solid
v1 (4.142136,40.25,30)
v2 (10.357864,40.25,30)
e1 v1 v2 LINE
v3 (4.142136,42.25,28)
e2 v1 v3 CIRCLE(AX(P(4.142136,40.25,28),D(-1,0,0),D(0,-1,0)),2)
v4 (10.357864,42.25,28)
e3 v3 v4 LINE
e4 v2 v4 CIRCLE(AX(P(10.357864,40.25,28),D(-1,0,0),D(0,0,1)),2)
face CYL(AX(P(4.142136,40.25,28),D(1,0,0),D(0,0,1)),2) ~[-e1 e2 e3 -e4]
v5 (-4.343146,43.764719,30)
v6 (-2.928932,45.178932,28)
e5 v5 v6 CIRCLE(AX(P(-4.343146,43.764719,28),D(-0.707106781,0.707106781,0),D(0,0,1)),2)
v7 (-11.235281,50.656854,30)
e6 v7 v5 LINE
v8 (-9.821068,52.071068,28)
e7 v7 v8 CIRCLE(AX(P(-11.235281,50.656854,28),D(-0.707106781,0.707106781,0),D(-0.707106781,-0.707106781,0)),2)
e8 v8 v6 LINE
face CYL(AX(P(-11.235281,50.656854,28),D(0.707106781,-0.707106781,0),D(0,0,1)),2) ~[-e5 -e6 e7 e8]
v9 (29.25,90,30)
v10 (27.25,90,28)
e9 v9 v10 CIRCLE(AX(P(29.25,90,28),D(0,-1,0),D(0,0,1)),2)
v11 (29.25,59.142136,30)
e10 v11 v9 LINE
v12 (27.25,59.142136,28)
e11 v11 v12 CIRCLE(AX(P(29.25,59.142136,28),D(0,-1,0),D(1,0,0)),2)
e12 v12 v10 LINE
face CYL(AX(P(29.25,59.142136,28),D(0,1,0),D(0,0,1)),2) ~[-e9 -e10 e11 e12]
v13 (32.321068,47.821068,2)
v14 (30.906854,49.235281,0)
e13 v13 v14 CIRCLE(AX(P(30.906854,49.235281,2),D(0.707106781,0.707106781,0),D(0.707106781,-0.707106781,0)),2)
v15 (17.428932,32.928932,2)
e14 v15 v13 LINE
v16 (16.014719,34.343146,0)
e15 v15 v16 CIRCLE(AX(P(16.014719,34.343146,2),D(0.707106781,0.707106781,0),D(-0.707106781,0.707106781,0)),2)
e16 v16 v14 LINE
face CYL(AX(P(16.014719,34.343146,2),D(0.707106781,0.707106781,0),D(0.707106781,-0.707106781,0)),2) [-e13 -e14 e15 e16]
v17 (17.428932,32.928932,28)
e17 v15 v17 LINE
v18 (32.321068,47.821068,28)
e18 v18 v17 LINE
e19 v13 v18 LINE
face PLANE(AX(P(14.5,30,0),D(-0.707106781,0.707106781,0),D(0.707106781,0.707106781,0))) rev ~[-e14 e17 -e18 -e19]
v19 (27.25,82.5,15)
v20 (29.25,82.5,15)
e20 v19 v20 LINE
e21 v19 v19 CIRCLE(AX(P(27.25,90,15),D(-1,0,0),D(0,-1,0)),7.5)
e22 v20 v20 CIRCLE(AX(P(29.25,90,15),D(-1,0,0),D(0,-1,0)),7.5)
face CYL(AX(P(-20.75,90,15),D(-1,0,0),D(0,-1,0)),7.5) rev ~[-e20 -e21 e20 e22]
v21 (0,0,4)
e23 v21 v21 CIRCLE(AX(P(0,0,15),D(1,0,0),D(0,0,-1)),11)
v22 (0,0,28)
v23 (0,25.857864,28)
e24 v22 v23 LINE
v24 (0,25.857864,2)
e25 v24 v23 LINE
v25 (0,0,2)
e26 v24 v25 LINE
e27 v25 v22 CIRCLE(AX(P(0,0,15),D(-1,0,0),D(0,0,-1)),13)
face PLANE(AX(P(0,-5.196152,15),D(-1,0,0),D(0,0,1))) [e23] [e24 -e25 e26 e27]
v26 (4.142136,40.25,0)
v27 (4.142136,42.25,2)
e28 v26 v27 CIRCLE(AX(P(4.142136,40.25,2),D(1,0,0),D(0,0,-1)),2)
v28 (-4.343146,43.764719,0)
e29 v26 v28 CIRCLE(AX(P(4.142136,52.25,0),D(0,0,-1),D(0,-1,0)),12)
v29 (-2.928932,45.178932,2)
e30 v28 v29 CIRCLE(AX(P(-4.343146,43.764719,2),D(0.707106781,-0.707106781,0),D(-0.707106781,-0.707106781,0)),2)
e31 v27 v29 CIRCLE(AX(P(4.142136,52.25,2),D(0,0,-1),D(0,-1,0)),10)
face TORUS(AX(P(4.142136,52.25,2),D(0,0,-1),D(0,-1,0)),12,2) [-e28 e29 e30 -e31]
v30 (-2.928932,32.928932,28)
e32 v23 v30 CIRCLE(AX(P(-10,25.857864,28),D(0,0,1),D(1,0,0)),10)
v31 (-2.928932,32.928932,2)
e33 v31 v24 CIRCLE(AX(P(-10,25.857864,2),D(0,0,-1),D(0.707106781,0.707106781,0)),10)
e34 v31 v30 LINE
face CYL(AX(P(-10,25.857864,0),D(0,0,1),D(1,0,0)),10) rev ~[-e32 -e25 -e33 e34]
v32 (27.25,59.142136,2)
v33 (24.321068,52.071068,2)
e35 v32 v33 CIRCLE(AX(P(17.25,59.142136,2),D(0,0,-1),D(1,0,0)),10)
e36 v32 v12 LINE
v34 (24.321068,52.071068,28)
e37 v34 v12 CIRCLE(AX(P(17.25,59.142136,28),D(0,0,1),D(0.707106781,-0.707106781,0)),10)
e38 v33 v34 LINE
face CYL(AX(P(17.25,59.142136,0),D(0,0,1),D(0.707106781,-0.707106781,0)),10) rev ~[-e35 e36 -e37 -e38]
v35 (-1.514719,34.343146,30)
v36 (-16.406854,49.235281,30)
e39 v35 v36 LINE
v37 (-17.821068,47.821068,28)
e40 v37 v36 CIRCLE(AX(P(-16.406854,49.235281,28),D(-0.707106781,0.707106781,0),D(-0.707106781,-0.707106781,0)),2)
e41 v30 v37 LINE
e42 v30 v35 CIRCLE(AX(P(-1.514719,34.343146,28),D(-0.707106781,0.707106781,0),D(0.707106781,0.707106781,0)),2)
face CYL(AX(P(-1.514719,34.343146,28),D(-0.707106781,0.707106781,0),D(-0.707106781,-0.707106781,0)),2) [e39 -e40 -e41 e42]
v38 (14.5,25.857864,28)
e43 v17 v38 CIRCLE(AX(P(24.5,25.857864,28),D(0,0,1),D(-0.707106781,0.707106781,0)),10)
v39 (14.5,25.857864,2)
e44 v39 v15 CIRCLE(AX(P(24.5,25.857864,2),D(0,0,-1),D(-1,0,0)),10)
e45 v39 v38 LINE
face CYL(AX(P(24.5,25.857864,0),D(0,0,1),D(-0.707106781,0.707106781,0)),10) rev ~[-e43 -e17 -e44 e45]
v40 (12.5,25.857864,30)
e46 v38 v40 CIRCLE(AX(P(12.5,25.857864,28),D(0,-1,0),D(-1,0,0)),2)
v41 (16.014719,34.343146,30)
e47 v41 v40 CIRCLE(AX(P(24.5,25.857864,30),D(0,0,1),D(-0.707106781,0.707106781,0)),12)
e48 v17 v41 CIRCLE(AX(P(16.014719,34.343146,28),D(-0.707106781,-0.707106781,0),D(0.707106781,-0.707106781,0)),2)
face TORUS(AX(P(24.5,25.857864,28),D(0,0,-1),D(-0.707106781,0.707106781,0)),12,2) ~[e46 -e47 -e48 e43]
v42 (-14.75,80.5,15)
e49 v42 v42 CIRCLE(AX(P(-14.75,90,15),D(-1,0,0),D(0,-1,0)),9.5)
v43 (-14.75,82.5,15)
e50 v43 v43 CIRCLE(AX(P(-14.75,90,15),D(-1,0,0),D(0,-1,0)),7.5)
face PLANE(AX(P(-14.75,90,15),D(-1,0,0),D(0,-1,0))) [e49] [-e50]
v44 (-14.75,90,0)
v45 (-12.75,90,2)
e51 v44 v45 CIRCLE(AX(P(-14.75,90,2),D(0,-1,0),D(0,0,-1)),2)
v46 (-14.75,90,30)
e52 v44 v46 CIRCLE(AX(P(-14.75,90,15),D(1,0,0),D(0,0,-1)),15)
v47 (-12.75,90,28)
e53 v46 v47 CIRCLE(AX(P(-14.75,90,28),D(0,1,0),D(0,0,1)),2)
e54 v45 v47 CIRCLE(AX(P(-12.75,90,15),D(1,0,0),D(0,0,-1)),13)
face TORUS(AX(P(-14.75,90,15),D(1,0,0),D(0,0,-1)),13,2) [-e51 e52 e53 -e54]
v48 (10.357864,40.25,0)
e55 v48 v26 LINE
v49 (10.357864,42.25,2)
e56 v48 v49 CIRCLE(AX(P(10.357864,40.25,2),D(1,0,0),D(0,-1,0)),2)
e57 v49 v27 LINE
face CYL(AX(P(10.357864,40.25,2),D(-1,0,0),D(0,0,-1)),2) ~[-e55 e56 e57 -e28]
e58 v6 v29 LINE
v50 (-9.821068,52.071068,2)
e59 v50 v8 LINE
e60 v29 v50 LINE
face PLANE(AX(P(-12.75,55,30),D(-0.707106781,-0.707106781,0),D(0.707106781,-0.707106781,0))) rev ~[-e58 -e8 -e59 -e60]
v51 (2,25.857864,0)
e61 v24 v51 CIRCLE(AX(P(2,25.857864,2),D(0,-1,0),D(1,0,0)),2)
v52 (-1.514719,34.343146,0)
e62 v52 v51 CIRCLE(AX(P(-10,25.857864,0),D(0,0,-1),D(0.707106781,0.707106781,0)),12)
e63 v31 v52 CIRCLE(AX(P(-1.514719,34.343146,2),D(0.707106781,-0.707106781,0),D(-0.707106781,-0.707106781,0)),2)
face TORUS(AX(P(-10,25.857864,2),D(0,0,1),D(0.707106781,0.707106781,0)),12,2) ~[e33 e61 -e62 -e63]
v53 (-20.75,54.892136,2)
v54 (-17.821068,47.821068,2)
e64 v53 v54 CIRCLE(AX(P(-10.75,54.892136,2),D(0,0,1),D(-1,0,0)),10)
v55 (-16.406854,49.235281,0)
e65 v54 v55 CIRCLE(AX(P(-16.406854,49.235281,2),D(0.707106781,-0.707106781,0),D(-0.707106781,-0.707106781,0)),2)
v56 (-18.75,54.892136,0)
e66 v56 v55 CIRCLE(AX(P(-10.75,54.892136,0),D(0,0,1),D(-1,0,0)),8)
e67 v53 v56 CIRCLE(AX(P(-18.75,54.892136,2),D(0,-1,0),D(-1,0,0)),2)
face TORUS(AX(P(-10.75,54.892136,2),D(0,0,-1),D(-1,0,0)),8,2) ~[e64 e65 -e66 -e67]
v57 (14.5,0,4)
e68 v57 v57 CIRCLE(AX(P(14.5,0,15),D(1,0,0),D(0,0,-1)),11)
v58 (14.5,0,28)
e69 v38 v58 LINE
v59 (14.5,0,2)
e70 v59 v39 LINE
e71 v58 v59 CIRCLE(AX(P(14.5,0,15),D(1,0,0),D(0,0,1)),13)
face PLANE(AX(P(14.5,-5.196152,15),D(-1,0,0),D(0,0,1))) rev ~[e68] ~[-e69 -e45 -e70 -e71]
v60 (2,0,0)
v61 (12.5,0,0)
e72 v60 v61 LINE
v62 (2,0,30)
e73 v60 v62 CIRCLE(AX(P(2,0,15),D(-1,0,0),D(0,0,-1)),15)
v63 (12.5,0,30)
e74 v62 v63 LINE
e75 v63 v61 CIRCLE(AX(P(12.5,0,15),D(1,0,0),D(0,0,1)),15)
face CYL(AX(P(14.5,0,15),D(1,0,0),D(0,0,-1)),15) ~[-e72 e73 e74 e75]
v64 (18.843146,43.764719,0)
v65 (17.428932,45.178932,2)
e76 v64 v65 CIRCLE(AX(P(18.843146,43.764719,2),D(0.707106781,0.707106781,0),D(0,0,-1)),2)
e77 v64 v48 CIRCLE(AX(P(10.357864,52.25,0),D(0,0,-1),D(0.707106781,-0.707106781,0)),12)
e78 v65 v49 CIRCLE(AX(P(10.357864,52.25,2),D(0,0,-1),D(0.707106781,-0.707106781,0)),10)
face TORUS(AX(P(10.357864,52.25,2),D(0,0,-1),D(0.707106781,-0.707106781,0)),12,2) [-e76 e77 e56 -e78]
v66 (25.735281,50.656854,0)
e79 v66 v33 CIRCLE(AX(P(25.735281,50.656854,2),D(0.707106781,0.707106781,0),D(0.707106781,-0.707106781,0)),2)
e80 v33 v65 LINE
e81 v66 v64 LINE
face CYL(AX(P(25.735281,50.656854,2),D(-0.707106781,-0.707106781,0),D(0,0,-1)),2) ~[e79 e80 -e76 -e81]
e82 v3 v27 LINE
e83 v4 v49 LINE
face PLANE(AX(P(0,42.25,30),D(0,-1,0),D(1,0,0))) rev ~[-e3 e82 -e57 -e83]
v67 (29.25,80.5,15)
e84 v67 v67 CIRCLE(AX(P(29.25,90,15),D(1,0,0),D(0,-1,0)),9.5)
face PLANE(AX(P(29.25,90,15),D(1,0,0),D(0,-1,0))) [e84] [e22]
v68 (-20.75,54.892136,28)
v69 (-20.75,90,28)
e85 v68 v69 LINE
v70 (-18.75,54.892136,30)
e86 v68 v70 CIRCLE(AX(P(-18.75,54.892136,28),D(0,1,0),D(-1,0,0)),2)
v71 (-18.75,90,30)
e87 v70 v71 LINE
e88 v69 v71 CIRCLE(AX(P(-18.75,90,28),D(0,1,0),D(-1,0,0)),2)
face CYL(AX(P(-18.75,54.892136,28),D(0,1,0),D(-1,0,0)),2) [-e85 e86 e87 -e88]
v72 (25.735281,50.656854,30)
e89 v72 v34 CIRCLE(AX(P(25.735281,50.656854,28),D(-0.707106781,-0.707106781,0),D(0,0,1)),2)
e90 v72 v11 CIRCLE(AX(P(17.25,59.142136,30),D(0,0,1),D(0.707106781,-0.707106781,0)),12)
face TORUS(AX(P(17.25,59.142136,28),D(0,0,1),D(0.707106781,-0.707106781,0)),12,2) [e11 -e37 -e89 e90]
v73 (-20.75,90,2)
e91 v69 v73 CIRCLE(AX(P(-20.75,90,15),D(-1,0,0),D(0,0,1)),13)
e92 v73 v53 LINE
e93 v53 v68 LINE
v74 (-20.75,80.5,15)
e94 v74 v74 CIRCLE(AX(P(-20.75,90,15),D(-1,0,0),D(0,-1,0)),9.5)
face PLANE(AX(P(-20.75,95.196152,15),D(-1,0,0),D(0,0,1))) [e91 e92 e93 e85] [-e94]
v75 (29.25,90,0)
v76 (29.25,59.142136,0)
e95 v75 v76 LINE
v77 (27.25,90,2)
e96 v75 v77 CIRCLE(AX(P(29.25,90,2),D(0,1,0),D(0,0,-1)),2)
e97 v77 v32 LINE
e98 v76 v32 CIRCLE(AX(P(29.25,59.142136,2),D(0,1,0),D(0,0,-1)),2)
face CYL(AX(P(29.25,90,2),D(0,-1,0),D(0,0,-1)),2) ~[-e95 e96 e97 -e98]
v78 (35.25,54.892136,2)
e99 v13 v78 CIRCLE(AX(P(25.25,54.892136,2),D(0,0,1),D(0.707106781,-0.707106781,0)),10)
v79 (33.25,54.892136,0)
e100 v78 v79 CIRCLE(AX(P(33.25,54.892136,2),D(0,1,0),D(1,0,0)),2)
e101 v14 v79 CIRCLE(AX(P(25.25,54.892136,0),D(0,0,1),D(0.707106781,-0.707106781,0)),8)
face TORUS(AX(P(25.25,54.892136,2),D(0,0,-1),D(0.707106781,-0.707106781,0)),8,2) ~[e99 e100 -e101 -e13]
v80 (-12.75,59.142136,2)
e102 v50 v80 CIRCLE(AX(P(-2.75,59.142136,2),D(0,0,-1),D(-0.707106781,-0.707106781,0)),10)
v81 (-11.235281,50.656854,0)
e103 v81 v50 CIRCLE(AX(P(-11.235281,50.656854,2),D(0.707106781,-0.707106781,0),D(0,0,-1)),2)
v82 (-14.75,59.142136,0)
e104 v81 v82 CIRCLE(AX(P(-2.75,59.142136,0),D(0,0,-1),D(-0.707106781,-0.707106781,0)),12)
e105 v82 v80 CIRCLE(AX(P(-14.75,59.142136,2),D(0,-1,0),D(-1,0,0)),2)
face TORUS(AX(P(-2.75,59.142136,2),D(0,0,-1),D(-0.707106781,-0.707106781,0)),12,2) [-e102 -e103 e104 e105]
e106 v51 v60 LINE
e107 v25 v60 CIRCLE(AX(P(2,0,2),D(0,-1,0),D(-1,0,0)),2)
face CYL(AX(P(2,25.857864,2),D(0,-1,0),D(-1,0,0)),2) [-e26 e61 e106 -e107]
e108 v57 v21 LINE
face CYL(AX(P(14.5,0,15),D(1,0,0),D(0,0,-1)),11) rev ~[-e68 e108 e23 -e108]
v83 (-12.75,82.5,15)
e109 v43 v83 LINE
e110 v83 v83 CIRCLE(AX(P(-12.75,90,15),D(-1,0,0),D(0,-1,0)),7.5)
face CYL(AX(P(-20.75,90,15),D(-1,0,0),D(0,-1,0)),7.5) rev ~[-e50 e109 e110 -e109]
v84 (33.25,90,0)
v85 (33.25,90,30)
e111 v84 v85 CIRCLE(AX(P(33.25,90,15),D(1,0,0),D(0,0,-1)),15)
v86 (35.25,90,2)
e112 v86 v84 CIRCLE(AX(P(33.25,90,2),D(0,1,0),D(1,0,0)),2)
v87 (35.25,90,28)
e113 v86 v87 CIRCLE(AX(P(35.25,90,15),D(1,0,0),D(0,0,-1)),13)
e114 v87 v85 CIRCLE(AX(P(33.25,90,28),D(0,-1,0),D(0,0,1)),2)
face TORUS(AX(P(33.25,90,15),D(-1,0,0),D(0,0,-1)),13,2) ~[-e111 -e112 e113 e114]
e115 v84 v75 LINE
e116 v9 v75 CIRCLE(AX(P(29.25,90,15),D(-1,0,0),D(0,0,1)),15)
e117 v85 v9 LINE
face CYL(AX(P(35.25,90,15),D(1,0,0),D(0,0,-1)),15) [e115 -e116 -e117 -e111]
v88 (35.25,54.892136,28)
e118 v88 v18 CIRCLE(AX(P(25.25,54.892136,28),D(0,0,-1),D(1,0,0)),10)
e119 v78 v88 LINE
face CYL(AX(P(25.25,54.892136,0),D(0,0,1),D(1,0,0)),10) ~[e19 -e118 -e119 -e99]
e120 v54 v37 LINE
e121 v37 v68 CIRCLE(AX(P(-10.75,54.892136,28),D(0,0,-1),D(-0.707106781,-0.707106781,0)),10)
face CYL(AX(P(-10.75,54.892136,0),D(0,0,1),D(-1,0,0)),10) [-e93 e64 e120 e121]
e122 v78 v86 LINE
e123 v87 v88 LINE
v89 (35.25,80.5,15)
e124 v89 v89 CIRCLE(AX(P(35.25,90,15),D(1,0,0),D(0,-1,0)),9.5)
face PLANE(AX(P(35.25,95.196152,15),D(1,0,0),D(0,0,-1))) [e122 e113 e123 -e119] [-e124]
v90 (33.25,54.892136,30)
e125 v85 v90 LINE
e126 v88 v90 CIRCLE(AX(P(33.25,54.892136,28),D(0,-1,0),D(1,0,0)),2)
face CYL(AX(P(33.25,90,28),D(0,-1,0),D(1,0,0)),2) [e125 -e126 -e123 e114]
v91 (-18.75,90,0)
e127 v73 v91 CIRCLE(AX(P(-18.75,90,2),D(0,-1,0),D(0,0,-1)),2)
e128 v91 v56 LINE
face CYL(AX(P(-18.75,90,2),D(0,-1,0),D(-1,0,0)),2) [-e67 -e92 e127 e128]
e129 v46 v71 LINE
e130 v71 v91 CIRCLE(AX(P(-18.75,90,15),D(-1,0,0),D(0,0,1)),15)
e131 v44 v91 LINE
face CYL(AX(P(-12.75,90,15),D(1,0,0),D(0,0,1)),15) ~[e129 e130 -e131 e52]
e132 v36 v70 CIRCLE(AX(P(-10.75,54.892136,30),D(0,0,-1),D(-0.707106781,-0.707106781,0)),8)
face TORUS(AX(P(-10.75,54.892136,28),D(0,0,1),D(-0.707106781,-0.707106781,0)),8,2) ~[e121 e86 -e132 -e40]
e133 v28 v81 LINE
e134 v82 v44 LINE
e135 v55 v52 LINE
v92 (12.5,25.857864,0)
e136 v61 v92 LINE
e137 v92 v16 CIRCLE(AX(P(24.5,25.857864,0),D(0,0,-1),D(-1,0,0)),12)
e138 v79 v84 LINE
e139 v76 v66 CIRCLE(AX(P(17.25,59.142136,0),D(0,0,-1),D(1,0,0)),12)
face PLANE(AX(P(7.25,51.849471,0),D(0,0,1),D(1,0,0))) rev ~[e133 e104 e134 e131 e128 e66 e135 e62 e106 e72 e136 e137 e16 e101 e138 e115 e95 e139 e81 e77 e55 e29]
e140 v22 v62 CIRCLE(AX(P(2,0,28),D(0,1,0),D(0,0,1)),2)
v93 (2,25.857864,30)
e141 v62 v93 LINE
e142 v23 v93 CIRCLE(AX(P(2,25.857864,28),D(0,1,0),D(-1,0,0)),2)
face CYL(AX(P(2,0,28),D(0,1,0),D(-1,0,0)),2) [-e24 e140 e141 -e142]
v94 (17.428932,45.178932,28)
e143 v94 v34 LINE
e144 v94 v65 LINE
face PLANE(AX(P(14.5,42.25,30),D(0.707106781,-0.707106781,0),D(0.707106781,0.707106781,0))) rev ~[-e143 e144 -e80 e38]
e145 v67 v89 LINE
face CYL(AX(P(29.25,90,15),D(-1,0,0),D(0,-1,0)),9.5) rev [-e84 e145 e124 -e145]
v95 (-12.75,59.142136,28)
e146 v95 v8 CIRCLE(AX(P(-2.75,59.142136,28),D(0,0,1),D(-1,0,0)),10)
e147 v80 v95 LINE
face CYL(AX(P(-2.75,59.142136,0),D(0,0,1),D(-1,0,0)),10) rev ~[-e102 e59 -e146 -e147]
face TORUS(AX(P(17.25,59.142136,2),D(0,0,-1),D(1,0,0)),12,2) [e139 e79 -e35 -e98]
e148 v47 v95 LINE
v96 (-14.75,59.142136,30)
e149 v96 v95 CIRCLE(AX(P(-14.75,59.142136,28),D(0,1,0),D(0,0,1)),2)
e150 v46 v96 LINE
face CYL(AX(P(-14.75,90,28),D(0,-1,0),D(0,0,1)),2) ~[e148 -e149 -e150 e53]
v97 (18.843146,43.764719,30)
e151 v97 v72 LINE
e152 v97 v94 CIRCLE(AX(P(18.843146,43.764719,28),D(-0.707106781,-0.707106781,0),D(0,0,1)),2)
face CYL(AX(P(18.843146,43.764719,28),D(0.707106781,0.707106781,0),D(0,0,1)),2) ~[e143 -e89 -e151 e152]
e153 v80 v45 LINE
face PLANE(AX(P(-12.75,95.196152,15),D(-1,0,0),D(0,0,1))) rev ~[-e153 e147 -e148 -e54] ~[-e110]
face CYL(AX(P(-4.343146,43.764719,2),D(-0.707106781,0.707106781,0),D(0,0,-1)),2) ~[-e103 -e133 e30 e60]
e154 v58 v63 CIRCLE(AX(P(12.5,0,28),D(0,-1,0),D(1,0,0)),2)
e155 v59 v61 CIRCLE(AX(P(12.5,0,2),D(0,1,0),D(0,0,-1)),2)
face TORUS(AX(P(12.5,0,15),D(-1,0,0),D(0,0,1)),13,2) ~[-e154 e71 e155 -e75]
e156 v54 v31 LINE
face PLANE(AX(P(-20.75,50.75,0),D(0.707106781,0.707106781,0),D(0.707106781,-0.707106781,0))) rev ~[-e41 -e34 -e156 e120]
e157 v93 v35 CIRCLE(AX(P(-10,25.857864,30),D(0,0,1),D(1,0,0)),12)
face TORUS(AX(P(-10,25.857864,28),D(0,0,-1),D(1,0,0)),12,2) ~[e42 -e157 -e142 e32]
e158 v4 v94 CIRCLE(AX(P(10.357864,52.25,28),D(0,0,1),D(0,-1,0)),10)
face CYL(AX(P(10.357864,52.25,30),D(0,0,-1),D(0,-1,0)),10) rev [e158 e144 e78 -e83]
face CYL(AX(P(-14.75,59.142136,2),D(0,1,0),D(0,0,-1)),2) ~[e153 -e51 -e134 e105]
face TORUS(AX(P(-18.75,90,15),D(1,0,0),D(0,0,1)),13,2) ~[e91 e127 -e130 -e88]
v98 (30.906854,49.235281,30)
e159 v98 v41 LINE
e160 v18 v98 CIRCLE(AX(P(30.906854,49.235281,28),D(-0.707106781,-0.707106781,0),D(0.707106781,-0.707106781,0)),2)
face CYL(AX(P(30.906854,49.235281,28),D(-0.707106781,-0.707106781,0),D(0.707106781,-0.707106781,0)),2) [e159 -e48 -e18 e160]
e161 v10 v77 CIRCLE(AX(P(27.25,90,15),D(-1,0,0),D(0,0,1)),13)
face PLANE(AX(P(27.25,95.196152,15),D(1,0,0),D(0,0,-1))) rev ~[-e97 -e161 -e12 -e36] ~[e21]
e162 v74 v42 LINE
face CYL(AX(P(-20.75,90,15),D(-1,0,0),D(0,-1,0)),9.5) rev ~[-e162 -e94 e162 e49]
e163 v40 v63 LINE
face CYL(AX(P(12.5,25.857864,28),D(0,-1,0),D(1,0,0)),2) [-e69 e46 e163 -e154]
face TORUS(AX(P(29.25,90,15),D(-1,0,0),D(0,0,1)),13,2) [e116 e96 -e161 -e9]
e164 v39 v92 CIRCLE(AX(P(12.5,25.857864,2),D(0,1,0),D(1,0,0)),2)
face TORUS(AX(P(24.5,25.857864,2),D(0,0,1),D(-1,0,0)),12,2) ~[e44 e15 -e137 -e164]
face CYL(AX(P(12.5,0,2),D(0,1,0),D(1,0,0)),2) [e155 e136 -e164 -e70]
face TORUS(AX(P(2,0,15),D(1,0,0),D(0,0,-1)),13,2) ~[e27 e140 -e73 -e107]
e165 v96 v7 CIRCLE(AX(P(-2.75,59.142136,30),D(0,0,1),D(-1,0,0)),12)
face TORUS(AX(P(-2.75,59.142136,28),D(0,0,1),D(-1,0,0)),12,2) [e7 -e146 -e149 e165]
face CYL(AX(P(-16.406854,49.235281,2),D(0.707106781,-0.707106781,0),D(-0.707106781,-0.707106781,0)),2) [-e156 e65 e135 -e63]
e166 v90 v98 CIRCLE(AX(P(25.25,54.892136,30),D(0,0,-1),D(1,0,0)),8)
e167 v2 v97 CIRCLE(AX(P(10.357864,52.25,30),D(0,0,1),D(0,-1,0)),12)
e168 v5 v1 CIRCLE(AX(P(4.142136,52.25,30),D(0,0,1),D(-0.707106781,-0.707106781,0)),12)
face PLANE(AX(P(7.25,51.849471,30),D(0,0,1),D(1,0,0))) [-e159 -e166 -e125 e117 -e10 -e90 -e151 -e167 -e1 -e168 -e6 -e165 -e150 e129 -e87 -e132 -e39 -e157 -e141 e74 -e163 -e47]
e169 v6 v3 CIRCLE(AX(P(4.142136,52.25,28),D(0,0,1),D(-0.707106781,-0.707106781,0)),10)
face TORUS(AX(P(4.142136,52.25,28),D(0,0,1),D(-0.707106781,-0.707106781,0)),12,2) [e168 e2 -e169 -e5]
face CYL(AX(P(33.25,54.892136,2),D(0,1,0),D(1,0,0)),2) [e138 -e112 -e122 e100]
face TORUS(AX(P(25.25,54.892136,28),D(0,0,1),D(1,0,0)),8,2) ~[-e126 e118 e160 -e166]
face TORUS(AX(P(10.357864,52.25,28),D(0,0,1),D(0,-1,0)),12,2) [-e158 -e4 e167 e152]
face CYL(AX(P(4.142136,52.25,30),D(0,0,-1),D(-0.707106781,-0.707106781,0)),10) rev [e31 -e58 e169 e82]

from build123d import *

# Parameters (mm, degrees)
EXTRUDE_1_DEPTH     = 30
CUT_EXTRUDE_1_DEPTH = 102.205545797
EXTRUDE_2_DEPTH     = 14.5
SKETCH_4_R          = 11
CUT_EXTRUDE_2_DEPTH = 20
EXTRUDE_3_DEPTH     = 8
EXTRUDE_START       = -8
EXTRUDE_4_DEPTH     = 8
SKETCH_9_R          = 7.5
CUT_EXTRUDE_5_DEPTH = 62
SKETCH_10_R         = 9.5
CUT_EXTRUDE_6_DEPTH = 6
CUT_EXTRUDE_START   = -6
SKETCH_11_R         = 9.5
CUT_EXTRUDE_7_DEPTH = 6
FILLET_1_R          = 10
FILLET_2_R          = 2


with BuildPart() as part:
    # 草图1 → 凸台-拉伸1 (new body)
    with BuildSketch(Plane.XY):
        Polygon((0, 0), (14.5, 0), (14.5, 30), (35.25, 50.75), (35.25, 90), (27.25, 90), (27.25, 55), (-12.75, 55), (-12.75, 90), (-20.75, 90), (-20.75, 50.75), (0, 30), align=None)
    extrude(amount=EXTRUDE_1_DEPTH)

    # 草图2 → 切除-拉伸1 (cut, through all)
    with BuildSketch(Plane.XY.offset(30)):
        Polygon((-12.75, 55), (0, 42.25), (14.5, 42.25), (27.25, 55), align=None)
    extrude(amount=-CUT_EXTRUDE_1_DEPTH, mode=Mode.SUBTRACT)

    # 草图3 → 凸台-拉伸2 (add)
    with BuildSketch(Plane(origin=(14.5, 0, 0), x_dir=(0, 0, -1), z_dir=(1, 0, 0))):
        with BuildLine():
            Line((-30, 0), (0, 0))
            ThreePointArc((0, 0), (-15, -15), (-30, 0))
        make_face()
    extrude(amount=-EXTRUDE_2_DEPTH)

    # 草图4 → 切除-拉伸2 (cut)
    with BuildSketch(Plane(origin=(14.5, 0, 0), x_dir=(0, 0, -1), z_dir=(1, 0, 0))):
        with Locations((-15, 0)):
            Circle(SKETCH_4_R)
    extrude(amount=-CUT_EXTRUDE_2_DEPTH, mode=Mode.SUBTRACT)

    # 草图7 → 凸台-拉伸3 (add)
    with BuildSketch(Plane(origin=(35.25, 0, 0), x_dir=(0, 0, -1), z_dir=(1, 0, 0))):
        with BuildLine():
            Line((-30, 90), (0, 90))
            ThreePointArc((0, 90), (-15, 105), (-30, 90))
        make_face()
    extrude(amount=-EXTRUDE_3_DEPTH)

    # 草图8 → 凸台-拉伸4 (add)
    with BuildSketch(Plane.ZY.offset(20.75).offset(EXTRUDE_START)):
        with BuildLine():
            Line((0, 90), (30, 90))
            ThreePointArc((30, 90), (15, 105), (0, 90))
        make_face()
    extrude(amount=EXTRUDE_4_DEPTH)

    # 草图9 → 切除-拉伸5 (cut)
    with BuildSketch(Plane.ZY.offset(20.75)):
        with Locations(Location((15, 90, 0), (0, 0, 270))):
            Circle(SKETCH_9_R)
    extrude(amount=-CUT_EXTRUDE_5_DEPTH, mode=Mode.SUBTRACT)

    # 草图10 → 切除-拉伸6 (cut)
    with BuildSketch(Plane.ZY.offset(20.75)):
        with Locations(Location((15, 90, 0), (0, 0, 270))):
            Circle(SKETCH_10_R)
    extrude(amount=-CUT_EXTRUDE_6_DEPTH, mode=Mode.SUBTRACT)

    # 草图11 → 切除-拉伸7 (cut)
    with BuildSketch(Plane(origin=(35.25, 0, 0), x_dir=(0, 0, -1), z_dir=(1, 0, 0)).offset(CUT_EXTRUDE_START)):
        with Locations(Location((-15, 90, 0), (0, 0, 270))):
            Circle(SKETCH_11_R)
    extrude(amount=CUT_EXTRUDE_7_DEPTH, mode=Mode.SUBTRACT)

    # 圆角1
    fillet_1_edges = [part.edges().sort_by_distance(p)[0] for p in [
        (0, 30, 15),
        (-20.75, 50.75, 15),
        (-12.75, 55, 15),
        (27.25, 55, 15),
        (35.25, 50.75, 15),
        (14.5, 30, 15),
        (14.5, 42.25, 15),
        (0, 42.25, 15),
    ]]
    fillet(fillet_1_edges, radius=FILLET_1_R)

    # 圆角2
    fillet_2_edges = [part.edges().sort_by_distance(p)[0] for p in [
        (20.875, 48.625, 30),
        (20.875, 48.625, 0),
        (7.25, 42.25, 30),
        (7.25, 42.25, 0),
        (-6.375, 48.625, 30),
        (-6.375, 48.625, 0),
        (-12.75, 74.571067812, 0),
        (-12.75, 74.571067812, 30),
        (-10.375, 40.375, 0),
        (-10.375, 40.375, 30),
        (35.25, 72.446067812, 0),
        (24.875, 40.375, 0),
        (0, 12.928932188, 0),
        (34.488795325, 51.0653013, 0),
        (-19.988795325, 51.0653013, 0),
        (0, 12.928932188, 30),
        (24.875, 40.375, 30),
        (35.25, 72.446067812, 30),
        (34.488795325, 51.0653013, 30),
        (-19.988795325, 51.0653013, 30),
        (-20.75, 72.446067812, 0),
        (26.488795325, 55.3153013, 0),
        (26.488795325, 55.3153013, 30),
        (14.1846987, 43.011204675, 30),
        (14.1846987, 43.011204675, 0),
        (0.3153013, 43.011204675, 30),
        (0.3153013, 43.011204675, 0),
        (14.5, 12.928932188, 30),
        (-11.988795325, 55.3153013, 0),
        (-11.988795325, 55.3153013, 30),
        (-0.761204675, 29.6846987, 0),
        (-0.761204675, 29.6846987, 30),
        (15.261204675, 29.6846987, 0),
        (15.261204675, 29.6846987, 30),
        (27.25, 74.571067812, 0),
        (14.5, 12.928932188, 0),
        (27.25, 74.571067812, 30),
        (-20.75, 72.446067812, 30),
        (14.5, -15, 15),
        (0, -15, 15),
        (35.25, 105, 15),
        (27.25, 105, 15),
        (-20.75, 105, 15),
        (-12.75, 105, 15),
    ]]
    fillet(fillet_2_edges, radius=FILLET_2_R)


solid = part.part
